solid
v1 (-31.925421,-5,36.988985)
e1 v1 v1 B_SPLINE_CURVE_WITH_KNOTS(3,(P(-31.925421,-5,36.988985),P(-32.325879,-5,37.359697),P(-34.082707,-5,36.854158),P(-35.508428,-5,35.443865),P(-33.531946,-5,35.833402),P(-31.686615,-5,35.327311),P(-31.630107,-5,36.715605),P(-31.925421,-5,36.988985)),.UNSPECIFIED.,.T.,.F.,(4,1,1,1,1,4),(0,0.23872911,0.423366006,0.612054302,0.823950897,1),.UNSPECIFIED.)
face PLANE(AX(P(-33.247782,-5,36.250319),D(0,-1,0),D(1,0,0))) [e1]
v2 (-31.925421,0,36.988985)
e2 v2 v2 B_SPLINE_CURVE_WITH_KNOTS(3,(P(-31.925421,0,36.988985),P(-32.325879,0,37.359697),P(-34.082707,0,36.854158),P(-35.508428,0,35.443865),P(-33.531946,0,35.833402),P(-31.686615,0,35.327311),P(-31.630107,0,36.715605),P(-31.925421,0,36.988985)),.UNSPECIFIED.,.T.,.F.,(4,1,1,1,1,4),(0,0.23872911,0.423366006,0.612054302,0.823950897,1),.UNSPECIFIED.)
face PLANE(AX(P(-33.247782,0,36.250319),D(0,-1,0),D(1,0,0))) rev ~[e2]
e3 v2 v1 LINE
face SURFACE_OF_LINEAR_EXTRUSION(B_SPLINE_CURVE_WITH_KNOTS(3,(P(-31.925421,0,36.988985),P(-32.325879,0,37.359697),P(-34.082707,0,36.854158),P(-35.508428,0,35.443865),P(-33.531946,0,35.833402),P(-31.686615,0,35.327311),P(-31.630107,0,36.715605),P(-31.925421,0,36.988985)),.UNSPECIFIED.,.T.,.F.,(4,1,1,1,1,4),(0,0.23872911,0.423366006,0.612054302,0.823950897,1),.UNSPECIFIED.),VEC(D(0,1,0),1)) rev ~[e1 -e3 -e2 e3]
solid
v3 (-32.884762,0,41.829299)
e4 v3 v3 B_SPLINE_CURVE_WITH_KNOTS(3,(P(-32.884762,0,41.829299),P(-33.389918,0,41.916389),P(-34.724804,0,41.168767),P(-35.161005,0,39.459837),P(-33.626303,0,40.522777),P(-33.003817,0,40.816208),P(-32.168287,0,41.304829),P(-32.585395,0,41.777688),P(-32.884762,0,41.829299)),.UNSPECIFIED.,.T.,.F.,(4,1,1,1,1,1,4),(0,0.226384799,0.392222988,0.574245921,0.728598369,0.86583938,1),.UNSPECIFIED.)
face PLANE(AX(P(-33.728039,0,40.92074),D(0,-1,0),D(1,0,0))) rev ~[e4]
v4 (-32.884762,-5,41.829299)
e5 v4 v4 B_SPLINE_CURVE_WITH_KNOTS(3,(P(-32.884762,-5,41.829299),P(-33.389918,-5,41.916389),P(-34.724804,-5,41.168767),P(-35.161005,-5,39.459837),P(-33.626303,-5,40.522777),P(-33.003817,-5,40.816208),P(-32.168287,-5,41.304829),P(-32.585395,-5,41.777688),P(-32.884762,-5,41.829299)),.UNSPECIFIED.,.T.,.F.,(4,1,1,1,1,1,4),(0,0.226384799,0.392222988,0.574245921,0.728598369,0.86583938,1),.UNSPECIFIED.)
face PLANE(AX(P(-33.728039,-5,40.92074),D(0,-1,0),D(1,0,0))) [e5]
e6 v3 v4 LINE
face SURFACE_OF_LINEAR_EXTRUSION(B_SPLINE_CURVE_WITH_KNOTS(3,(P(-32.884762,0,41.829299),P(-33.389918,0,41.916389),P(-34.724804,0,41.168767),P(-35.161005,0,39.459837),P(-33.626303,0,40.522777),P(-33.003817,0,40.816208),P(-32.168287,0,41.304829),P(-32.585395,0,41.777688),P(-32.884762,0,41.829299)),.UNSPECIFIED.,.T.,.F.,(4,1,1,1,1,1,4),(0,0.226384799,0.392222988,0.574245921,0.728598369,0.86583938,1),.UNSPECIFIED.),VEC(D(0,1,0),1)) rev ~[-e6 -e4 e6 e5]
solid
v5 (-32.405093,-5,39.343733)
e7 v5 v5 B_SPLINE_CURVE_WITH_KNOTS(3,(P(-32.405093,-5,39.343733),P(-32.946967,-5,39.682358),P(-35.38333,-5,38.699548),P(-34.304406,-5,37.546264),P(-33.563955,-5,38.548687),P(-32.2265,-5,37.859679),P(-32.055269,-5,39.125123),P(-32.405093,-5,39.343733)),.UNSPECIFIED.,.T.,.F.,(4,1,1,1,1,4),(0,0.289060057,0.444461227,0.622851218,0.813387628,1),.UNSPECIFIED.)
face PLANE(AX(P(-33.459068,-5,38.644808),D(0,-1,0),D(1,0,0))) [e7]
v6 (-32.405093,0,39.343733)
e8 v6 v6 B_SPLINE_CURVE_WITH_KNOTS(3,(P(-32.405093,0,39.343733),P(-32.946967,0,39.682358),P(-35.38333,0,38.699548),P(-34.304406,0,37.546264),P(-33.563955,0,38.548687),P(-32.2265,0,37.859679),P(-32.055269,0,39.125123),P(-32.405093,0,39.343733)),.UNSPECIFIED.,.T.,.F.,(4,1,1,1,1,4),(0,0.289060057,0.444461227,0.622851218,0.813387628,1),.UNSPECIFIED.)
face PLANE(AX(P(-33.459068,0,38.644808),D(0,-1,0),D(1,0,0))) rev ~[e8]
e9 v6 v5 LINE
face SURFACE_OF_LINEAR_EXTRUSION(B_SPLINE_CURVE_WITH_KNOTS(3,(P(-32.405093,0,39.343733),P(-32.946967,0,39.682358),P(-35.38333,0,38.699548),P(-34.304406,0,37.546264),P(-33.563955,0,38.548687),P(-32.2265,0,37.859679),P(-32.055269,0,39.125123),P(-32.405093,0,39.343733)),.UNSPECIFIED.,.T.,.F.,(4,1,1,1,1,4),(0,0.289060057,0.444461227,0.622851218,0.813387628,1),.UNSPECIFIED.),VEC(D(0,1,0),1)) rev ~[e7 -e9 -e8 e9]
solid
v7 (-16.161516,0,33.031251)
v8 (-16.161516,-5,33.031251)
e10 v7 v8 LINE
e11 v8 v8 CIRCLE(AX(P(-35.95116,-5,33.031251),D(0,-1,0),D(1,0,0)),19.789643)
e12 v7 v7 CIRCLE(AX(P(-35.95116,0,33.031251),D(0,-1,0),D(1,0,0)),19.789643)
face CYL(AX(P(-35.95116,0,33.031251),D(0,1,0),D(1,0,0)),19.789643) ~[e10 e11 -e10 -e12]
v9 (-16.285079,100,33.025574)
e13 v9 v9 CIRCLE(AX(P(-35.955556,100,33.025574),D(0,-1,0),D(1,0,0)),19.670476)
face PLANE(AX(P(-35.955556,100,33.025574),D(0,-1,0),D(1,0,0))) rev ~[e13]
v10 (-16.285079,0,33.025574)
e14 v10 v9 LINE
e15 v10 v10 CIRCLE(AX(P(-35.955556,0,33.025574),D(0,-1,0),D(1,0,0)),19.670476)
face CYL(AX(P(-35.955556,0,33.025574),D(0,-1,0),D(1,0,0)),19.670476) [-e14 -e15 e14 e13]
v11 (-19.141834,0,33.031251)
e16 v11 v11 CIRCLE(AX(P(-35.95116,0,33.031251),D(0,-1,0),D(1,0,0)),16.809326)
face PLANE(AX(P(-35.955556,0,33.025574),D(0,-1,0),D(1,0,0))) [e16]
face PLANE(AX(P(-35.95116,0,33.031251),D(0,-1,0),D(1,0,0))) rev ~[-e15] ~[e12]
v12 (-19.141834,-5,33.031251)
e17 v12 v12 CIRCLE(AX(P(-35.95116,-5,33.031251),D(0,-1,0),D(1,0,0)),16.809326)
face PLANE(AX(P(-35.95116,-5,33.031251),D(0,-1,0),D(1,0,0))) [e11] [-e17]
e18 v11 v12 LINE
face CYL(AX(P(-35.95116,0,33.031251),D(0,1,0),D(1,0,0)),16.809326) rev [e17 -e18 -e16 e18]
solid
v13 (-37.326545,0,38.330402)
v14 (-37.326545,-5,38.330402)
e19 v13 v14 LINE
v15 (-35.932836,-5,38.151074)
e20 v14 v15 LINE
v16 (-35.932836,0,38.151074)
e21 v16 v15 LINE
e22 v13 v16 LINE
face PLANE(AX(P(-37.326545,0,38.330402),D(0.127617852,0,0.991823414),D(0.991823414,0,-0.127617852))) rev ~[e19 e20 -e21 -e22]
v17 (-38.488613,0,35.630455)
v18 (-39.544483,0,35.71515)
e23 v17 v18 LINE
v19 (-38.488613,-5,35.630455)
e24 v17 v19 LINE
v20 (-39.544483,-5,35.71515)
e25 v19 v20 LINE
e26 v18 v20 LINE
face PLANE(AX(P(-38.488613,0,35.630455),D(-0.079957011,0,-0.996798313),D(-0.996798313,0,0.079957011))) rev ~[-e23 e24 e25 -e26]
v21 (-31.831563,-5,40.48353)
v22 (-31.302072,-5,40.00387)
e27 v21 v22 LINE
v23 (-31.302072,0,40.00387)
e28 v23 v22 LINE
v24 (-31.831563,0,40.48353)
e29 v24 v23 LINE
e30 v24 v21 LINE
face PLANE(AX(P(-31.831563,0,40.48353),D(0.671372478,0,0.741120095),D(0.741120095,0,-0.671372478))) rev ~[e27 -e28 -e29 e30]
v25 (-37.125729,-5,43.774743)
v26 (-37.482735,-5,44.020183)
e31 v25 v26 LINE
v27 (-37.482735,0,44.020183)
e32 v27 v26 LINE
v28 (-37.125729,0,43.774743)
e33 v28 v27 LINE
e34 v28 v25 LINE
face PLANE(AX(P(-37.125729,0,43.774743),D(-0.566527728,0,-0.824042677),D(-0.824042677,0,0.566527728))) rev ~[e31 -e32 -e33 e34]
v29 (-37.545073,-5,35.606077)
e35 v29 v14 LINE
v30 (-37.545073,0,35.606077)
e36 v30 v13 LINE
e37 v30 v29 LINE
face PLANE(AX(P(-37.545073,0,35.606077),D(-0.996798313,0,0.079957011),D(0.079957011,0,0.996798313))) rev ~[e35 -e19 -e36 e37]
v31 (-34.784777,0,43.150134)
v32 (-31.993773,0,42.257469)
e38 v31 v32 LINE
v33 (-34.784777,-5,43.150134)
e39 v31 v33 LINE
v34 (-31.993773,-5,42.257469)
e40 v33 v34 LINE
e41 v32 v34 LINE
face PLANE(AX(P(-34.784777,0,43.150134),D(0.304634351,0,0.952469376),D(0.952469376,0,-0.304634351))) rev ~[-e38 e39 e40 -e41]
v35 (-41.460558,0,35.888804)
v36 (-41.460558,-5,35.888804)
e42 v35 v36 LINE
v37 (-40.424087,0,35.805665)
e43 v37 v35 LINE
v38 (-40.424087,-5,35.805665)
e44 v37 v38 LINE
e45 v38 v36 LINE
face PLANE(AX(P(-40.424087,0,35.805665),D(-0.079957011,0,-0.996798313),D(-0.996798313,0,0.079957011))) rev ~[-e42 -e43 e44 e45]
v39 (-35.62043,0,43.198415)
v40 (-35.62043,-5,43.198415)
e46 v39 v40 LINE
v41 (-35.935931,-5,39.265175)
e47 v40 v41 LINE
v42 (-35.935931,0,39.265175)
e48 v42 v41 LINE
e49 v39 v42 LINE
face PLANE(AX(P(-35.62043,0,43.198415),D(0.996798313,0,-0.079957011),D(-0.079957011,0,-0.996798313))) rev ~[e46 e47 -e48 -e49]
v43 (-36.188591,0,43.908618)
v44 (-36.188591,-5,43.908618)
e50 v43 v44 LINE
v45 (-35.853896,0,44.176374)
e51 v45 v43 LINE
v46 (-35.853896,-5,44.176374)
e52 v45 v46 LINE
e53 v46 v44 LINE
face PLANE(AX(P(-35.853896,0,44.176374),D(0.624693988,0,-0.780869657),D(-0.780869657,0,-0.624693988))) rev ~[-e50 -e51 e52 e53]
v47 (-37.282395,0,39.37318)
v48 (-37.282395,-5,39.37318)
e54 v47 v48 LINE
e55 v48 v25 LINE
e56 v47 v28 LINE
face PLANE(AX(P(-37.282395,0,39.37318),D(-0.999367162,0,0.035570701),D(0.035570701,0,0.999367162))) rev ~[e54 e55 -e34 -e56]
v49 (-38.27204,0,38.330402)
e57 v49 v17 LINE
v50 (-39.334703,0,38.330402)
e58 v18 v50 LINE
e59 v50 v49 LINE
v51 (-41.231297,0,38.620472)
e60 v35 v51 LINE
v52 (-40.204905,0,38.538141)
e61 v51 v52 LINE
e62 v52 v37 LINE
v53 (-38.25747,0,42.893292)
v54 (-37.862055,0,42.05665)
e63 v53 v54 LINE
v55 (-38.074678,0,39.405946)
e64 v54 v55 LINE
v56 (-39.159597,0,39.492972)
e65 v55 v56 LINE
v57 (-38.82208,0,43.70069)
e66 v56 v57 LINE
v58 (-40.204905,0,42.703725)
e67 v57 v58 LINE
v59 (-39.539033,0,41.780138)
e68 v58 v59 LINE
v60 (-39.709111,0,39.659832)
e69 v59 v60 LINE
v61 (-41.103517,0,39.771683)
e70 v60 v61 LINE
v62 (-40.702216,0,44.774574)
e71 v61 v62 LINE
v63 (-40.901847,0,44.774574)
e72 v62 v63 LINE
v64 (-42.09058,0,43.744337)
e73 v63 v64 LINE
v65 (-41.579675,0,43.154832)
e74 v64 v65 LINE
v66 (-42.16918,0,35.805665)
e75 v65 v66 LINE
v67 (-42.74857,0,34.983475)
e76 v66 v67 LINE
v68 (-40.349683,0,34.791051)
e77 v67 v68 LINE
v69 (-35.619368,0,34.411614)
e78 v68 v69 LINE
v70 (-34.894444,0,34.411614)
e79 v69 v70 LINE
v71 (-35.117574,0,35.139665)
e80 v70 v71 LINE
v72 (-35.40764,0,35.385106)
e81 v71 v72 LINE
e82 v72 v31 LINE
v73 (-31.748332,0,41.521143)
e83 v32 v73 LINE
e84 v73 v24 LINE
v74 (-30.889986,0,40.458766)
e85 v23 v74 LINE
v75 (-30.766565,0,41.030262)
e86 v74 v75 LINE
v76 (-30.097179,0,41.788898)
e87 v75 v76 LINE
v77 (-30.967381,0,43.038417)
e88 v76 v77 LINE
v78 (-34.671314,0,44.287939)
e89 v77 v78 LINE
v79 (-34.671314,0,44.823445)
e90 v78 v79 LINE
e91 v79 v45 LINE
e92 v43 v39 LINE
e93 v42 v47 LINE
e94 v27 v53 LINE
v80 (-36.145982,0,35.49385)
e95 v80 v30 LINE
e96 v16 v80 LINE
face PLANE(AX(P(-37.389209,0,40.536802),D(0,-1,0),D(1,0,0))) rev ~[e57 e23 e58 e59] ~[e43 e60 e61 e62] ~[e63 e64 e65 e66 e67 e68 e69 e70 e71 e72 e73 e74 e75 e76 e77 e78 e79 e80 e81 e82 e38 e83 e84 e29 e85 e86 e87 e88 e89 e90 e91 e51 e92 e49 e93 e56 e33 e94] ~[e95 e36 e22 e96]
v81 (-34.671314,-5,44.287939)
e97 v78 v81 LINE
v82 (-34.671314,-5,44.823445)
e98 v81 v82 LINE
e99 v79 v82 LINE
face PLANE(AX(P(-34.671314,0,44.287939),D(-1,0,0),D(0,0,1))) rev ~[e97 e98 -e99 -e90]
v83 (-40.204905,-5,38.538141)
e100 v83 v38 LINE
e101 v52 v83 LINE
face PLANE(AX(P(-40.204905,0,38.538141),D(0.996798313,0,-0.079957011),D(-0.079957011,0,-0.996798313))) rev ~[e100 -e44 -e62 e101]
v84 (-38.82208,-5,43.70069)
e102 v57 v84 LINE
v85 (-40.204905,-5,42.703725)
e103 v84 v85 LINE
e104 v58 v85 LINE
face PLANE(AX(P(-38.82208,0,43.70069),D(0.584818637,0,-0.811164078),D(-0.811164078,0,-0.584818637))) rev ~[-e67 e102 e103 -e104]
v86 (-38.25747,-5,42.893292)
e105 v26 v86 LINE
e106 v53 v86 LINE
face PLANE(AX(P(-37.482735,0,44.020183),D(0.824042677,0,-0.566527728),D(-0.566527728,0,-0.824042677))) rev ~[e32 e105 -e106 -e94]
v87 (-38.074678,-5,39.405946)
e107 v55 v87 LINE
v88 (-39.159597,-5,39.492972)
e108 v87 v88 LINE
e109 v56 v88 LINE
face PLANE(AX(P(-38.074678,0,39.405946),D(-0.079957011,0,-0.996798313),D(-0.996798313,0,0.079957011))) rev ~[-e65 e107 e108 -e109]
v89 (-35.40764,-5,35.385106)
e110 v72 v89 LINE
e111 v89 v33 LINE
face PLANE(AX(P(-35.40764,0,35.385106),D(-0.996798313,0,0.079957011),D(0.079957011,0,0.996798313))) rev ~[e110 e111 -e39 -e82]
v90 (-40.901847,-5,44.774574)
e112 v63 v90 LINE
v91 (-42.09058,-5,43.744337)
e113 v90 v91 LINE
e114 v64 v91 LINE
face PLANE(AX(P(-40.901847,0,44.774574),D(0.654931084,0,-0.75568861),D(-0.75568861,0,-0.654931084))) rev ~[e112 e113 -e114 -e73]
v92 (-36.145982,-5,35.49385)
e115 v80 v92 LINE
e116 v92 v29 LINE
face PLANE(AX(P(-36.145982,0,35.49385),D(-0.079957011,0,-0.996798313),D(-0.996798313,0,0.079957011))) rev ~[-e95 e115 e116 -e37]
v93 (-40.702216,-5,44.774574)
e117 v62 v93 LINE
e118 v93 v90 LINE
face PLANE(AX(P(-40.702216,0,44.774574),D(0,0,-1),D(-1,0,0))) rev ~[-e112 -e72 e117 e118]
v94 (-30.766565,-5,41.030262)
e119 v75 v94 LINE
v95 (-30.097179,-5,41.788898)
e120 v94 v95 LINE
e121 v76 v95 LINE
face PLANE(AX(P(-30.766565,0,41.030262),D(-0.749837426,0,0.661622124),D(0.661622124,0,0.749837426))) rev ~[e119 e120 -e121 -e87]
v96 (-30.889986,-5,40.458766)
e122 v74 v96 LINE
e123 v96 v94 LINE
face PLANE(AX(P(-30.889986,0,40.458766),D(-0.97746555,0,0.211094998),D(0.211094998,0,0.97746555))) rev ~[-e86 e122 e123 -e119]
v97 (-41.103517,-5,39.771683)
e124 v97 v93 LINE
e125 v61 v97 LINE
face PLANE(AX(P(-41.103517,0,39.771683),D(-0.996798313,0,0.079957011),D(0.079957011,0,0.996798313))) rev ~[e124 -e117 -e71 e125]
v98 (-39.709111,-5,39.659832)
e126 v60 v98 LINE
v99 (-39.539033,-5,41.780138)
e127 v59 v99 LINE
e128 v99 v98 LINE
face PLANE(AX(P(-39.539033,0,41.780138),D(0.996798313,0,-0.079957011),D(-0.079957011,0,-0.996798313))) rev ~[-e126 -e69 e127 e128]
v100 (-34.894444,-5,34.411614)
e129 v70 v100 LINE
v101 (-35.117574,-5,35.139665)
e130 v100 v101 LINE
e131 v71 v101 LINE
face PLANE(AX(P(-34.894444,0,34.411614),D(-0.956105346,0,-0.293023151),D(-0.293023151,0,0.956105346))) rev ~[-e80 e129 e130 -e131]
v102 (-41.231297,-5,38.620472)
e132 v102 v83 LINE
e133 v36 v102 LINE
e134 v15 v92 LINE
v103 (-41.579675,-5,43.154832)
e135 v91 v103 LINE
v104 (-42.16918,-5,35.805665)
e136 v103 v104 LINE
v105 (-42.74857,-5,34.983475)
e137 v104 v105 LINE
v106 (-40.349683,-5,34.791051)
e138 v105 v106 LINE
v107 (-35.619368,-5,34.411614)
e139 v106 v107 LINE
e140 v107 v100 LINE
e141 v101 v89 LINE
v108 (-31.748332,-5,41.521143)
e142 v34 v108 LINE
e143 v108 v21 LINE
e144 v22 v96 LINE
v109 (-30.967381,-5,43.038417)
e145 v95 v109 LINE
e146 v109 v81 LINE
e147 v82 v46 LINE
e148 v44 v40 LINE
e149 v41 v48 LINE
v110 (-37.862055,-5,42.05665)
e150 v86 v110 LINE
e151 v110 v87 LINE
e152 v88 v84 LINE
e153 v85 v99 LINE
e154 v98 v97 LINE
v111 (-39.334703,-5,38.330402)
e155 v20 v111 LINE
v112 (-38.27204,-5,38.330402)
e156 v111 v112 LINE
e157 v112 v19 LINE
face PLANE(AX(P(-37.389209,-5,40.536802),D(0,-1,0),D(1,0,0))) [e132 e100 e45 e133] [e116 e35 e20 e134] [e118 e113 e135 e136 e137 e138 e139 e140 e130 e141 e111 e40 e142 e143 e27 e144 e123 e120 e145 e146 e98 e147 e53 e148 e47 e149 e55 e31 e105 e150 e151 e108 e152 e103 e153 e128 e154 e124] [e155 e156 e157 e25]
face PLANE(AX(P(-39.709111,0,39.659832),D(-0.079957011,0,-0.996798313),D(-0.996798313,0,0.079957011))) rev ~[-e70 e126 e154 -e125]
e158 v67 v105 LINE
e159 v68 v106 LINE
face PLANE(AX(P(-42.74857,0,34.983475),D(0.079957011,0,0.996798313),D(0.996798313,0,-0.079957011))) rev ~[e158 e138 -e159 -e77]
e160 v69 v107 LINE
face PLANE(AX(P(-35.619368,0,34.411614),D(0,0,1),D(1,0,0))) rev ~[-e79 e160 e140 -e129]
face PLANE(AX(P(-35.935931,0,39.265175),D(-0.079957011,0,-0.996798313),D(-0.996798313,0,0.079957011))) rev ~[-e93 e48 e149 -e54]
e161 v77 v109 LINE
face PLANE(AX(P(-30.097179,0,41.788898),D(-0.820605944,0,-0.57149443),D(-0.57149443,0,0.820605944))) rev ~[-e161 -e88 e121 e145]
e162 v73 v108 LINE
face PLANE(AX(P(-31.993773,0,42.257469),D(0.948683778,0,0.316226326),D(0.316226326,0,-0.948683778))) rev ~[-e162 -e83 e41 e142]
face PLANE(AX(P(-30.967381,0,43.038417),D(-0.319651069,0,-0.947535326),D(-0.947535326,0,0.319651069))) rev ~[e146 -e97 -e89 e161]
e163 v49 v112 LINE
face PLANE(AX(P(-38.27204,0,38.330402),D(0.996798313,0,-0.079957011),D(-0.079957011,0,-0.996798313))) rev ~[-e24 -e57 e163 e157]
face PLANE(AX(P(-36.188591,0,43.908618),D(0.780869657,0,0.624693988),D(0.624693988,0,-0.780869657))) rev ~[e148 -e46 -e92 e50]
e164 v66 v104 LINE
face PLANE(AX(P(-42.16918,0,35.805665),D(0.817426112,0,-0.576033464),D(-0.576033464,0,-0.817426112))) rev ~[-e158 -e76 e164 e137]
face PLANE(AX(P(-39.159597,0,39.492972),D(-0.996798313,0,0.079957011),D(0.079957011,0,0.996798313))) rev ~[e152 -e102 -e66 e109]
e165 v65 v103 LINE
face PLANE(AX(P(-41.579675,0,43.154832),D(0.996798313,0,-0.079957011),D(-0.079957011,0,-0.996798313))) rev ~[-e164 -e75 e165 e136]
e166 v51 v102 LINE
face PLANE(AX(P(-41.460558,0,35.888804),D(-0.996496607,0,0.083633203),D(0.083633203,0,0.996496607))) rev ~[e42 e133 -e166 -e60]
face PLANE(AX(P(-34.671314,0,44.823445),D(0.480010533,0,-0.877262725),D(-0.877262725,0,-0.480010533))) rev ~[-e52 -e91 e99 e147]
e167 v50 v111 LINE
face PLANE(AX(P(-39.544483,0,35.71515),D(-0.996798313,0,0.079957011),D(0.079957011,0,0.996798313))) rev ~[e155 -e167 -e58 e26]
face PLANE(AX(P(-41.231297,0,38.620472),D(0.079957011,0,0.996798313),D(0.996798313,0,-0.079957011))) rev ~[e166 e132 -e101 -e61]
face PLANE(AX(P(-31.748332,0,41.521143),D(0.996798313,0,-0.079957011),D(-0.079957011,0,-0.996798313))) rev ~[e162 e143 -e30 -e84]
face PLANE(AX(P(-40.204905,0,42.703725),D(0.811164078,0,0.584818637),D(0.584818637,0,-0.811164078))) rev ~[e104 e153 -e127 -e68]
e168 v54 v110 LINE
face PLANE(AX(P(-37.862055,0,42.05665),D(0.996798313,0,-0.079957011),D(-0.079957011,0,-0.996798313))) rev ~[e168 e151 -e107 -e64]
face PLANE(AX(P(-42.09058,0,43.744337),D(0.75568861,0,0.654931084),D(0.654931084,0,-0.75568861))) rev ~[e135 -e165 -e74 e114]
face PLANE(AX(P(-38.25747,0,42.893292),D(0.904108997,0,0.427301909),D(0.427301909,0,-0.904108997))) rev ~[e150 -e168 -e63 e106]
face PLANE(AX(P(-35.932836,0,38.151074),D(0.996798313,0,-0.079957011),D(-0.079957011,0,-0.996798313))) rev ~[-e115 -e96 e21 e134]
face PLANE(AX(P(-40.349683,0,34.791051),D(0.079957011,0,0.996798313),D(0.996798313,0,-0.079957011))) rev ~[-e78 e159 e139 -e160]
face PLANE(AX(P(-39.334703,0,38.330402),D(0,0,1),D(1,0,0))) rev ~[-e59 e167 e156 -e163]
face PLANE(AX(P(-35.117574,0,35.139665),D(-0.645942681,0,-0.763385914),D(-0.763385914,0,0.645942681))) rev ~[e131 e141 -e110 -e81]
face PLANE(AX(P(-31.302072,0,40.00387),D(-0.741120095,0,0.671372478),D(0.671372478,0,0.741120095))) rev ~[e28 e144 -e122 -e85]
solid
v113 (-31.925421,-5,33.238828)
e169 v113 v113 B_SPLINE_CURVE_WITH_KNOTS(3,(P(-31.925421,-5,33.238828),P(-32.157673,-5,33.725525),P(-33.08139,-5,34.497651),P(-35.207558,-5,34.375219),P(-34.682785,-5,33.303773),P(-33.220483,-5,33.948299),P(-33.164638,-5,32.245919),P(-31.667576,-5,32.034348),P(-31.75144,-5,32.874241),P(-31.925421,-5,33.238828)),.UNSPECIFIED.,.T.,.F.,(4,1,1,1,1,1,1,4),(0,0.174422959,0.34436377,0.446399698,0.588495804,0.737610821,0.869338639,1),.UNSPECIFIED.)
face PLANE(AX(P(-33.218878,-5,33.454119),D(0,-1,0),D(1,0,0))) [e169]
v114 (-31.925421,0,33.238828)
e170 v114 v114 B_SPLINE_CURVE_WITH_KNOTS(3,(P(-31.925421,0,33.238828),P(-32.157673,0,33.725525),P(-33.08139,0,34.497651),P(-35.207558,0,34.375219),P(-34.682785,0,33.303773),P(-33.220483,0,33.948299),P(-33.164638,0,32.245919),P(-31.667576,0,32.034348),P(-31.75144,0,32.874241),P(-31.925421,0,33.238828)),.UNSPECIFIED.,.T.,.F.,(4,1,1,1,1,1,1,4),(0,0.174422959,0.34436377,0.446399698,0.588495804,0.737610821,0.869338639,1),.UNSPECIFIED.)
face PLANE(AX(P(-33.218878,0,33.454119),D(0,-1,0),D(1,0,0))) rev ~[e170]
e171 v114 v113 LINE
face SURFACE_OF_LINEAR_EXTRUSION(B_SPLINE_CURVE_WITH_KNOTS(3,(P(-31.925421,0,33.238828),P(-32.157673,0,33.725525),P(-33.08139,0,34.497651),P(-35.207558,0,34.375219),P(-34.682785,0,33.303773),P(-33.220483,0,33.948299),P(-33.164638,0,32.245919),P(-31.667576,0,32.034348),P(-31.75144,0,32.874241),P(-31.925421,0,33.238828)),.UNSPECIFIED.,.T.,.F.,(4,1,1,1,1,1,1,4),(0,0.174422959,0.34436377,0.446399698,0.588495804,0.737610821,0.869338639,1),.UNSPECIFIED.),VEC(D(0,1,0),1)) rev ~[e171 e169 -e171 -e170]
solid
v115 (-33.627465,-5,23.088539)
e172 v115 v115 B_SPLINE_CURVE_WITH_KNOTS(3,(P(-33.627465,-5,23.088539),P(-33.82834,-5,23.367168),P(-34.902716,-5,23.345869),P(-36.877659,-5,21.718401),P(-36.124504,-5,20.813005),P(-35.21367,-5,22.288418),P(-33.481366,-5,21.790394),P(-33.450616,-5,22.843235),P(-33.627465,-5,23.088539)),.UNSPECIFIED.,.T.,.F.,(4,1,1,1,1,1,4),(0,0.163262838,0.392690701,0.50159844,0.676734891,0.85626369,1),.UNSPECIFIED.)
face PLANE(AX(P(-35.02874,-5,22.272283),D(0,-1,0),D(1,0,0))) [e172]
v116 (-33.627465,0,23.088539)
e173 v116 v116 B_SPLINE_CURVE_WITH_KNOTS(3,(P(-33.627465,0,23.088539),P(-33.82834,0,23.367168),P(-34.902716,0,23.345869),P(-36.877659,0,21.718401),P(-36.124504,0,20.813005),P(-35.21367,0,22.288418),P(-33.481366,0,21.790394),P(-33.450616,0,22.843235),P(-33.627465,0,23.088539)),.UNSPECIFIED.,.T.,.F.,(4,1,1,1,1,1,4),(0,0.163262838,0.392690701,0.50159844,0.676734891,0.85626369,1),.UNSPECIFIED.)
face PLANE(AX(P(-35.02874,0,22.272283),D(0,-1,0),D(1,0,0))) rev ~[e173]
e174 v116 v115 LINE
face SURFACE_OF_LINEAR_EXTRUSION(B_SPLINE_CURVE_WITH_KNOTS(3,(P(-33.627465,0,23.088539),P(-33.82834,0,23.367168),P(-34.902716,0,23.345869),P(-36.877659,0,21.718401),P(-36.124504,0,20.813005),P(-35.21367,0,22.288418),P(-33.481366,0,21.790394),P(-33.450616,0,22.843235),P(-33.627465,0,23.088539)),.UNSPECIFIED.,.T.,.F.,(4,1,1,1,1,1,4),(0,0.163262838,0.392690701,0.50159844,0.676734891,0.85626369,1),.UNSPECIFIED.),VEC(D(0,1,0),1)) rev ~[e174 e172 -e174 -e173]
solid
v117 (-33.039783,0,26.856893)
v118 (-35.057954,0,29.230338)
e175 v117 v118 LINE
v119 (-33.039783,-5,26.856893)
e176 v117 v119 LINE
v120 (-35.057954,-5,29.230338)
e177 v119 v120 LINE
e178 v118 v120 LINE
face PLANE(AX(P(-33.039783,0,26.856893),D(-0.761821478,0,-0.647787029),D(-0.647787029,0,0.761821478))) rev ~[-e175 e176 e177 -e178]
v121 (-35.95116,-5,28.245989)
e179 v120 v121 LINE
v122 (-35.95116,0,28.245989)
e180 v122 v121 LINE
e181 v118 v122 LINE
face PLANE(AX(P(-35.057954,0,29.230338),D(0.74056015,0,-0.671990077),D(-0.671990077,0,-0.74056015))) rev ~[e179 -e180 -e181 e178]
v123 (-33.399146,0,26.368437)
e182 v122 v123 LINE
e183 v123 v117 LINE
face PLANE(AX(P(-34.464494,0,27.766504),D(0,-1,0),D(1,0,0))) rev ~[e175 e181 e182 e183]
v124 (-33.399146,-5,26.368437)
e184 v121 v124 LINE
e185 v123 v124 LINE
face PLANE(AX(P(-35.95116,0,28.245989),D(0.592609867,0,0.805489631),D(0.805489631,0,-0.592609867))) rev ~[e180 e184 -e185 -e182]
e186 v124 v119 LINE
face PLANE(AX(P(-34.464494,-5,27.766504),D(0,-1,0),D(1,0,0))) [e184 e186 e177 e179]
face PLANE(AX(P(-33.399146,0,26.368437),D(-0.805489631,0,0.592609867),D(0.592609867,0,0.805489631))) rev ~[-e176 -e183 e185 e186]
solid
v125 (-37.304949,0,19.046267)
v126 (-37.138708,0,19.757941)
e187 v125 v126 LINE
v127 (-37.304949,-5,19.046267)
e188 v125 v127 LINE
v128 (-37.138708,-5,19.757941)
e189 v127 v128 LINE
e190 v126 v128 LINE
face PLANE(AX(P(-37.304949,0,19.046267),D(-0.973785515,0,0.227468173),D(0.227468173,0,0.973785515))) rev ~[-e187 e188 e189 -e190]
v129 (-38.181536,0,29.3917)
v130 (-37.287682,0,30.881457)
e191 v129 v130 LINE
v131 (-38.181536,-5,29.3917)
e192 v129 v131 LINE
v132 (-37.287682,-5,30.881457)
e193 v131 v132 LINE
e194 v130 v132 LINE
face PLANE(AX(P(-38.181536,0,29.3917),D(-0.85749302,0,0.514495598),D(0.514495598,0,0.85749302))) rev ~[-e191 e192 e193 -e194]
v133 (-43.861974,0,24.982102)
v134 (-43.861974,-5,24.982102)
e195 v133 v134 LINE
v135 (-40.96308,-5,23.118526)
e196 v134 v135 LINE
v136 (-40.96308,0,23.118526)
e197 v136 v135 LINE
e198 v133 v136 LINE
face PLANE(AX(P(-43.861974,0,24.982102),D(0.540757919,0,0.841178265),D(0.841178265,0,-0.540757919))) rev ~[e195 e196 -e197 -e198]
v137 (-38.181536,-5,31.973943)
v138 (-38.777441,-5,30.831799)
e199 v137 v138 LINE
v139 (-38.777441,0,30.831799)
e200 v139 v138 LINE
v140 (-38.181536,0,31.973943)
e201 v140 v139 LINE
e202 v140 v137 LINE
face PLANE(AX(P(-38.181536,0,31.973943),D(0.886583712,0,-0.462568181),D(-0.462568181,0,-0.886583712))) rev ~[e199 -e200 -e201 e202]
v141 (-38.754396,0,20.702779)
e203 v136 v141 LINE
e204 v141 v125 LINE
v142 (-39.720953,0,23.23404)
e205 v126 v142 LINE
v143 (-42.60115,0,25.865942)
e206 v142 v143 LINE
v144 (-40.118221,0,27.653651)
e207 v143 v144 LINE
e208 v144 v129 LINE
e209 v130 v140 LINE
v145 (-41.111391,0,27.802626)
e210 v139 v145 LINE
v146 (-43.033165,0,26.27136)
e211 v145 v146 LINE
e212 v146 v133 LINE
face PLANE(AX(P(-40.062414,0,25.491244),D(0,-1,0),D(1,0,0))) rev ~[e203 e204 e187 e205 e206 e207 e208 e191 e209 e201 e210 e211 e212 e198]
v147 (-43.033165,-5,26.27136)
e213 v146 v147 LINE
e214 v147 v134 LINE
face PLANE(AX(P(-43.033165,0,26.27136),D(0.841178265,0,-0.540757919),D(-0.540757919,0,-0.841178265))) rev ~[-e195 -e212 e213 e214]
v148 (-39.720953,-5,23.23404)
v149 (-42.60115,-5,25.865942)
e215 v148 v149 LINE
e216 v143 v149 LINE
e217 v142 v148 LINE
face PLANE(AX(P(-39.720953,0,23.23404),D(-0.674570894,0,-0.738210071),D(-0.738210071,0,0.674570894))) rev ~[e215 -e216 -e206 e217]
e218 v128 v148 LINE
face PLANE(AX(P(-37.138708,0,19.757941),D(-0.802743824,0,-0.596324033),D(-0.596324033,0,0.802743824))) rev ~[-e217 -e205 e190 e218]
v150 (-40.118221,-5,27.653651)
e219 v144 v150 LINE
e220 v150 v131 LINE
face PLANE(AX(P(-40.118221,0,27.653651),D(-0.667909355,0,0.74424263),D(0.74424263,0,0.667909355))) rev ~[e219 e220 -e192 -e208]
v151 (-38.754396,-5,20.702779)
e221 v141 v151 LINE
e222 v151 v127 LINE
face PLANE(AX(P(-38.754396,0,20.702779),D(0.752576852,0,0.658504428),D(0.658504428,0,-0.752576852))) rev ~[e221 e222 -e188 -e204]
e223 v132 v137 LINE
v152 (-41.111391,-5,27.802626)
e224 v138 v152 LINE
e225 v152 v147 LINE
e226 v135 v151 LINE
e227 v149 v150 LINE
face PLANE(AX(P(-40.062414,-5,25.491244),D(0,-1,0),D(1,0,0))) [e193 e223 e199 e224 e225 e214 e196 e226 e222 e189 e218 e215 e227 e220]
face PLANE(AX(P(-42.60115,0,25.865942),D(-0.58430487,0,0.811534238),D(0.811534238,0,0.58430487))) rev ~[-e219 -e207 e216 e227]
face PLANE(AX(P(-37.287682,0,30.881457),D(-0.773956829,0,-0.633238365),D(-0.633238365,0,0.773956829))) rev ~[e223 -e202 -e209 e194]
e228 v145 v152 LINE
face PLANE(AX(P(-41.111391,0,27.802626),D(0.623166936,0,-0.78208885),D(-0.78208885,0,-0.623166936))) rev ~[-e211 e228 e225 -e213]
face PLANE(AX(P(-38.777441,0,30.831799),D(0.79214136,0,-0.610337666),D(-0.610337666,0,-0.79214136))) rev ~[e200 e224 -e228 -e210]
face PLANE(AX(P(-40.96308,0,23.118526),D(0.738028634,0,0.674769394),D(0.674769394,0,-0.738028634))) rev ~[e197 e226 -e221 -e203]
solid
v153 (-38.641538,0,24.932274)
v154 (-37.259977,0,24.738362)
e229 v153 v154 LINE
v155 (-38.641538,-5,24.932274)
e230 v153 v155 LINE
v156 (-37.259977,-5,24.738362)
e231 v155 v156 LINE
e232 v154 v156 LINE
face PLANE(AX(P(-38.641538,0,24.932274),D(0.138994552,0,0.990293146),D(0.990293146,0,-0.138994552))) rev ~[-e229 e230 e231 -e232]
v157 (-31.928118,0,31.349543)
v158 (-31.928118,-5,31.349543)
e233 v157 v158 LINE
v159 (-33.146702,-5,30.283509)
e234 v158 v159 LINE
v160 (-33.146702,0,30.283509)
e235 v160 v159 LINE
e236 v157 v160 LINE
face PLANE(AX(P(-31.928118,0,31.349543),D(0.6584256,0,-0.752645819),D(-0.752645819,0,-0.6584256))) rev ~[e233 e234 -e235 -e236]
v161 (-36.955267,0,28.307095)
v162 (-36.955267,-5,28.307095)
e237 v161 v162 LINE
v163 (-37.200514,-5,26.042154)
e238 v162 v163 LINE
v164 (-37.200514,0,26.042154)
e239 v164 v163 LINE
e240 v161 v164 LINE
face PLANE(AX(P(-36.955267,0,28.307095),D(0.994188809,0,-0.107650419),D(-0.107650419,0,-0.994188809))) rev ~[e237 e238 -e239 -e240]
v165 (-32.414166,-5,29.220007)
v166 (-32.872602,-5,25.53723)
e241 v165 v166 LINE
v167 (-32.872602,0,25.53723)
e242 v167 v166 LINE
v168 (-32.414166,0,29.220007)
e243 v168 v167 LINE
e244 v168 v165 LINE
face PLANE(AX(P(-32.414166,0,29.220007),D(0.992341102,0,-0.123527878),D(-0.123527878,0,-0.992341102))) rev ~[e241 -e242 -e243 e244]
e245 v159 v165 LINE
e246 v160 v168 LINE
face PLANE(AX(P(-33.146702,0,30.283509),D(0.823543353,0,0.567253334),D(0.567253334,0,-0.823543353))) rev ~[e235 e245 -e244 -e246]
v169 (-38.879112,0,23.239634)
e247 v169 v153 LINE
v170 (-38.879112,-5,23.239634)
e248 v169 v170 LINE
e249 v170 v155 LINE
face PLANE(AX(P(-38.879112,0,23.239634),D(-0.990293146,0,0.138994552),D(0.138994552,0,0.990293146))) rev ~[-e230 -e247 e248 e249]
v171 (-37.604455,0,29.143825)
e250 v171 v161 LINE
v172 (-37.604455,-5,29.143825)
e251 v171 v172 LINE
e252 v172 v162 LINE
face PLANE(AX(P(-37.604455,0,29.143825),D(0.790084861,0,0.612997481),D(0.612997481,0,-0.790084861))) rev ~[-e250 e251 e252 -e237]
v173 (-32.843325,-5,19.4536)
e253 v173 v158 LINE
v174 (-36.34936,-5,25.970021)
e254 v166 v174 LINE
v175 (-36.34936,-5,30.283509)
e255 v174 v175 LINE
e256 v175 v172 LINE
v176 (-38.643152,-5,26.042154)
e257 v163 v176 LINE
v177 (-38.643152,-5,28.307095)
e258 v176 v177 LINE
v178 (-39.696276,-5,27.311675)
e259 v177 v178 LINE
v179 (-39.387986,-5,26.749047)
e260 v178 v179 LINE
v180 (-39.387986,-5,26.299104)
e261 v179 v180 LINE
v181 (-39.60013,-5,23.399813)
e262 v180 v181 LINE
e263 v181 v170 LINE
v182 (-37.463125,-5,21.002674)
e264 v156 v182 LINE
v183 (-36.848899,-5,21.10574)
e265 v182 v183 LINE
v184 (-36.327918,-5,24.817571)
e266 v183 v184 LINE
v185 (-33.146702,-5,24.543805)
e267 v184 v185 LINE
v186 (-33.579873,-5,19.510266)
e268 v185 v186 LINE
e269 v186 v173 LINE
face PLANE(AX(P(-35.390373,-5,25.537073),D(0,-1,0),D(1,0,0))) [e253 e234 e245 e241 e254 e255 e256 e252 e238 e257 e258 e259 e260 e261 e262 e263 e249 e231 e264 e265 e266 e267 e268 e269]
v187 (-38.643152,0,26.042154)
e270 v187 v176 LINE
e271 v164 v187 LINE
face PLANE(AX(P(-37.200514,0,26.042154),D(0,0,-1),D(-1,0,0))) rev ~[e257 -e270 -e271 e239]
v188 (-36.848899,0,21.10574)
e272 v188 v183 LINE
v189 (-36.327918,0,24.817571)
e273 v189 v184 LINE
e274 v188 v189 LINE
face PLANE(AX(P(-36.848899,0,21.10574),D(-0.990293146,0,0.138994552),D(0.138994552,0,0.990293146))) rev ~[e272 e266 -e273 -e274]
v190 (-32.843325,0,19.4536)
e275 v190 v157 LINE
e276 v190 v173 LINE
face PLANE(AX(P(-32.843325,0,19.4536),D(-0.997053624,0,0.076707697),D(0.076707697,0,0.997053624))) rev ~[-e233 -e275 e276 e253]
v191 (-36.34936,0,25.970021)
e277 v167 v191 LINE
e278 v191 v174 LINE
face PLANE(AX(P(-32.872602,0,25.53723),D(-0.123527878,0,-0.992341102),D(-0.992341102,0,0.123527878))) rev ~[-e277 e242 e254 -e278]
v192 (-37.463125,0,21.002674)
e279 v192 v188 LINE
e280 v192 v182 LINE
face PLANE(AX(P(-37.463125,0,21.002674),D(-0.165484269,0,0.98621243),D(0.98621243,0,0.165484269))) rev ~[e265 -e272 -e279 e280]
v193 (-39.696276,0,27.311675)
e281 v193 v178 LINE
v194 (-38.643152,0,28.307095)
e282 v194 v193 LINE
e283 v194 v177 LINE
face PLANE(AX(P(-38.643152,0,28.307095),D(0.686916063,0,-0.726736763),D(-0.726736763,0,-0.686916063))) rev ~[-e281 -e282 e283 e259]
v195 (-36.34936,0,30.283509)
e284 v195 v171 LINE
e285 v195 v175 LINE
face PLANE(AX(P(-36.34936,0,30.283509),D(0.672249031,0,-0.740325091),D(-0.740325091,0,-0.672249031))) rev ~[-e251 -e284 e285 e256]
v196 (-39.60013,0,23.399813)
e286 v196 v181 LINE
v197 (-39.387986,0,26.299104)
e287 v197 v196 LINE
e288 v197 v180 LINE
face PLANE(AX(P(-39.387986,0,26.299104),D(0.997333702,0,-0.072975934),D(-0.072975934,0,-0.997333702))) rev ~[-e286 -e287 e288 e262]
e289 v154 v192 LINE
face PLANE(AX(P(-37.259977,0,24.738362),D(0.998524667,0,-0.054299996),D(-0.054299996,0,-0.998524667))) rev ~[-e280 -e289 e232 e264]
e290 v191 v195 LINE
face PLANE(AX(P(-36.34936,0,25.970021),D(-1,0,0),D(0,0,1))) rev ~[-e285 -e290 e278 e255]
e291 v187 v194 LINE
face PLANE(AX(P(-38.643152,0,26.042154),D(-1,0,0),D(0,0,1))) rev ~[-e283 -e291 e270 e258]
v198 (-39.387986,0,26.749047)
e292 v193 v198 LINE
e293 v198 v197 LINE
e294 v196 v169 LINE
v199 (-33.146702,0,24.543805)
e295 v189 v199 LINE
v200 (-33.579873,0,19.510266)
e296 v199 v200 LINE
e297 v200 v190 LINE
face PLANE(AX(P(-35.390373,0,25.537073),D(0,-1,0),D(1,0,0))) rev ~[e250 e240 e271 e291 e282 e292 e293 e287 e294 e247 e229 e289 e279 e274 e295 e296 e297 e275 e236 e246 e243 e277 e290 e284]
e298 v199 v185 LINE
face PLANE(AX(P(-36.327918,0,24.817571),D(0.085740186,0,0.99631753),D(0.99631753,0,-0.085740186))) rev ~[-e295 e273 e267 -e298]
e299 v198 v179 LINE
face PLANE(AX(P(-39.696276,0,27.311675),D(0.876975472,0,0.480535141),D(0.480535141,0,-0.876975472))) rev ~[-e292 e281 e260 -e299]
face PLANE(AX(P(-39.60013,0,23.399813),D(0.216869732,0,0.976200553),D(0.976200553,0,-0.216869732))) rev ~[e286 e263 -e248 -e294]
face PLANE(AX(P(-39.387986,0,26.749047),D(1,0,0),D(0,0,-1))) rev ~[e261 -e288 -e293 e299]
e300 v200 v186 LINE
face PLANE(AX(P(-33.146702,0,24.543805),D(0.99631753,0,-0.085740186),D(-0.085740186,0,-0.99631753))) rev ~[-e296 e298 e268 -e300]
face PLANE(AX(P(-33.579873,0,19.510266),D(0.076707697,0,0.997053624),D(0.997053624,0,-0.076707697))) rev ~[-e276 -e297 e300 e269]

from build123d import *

# Parameters (mm, degrees)
F1_DEPTH = 5
F2_R     = 19.6704764398
F3_DEPTH = 100
F0_R     = 19.7896434189
F0_R_2   = 16.8093262281
F4_DEPTH = 5


with BuildPart() as f1:
    # F0 (on Front) → F1 (new body)
    with BuildSketch(Plane.XZ):
        Polygon((-41.5796749294, 43.1548319757), (-42.1691797674, 35.8056649566), (-42.7485704422, 34.9834747612), (-40.3496834117, 34.7910508435), (-35.6193675659, 34.4116140897), (-34.8944440484, 34.4116140897), (-35.1175740361, 35.1396650076), (-35.4076400399, 35.3851057589), (-34.7847773867, 43.1501339202), (-31.9937728345, 42.2574691474), (-31.7483320832, 41.5211431682), (-31.8315630384, 40.4835296467), (-31.3020721078, 40.0038696826), (-30.8899864178, 40.4587661755), (-30.7665653527, 41.0302616656), (-30.0971791148, 41.7888984084), (-30.9673808515, 43.0384166539), (-34.6713140607, 44.2879386246), (-34.6713140607, 44.8234453797), (-35.8538962901, 44.1763736308), (-36.1885912716, 43.9086183906), (-35.6204303075, 43.1984152092), (-35.9359305766, 39.2651749322), (-37.2823948352, 39.3731799881), (-37.1257290244, 43.7747426331), (-37.4827347696, 44.0201833844), (-38.2574704876, 42.8932918603), (-37.8620550036, 42.0566499233), (-38.0746781065, 39.4059461564), (-39.1595974577, 39.4929716934), (-38.822080276, 43.7006897318), (-40.2049049735, 42.7037253976), (-39.5390333262, 41.7801379355), (-39.7091111944, 39.6598319118), (-41.1035171997, 39.7716825588), (-40.702216146, 44.7745735937), (-40.9018468548, 44.7745735937), (-42.0905798674, 43.7443368137), align=None)
        Polygon((-41.4605582675, 35.8888042588), (-41.2312969565, 38.6204719543), (-40.2049049735, 38.5381411217), (-40.4240873536, 35.8056649566), align=None, mode=Mode.SUBTRACT)
        Polygon((-39.5444826137, 35.7151502744), (-39.3347032368, 38.3304022253), (-38.2720401508, 38.3304022253), (-38.4886132641, 35.6304549493), align=None, mode=Mode.SUBTRACT)
        Polygon((-37.5450731077, 35.6060767198), (-37.3265445232, 38.3304022253), (-35.932836109, 38.1510738569), (-36.1459821909, 35.4938502781), align=None, mode=Mode.SUBTRACT)
    extrude(amount=F1_DEPTH)


with BuildPart() as f1b:
    # F0 (on Front) → F1, piece 2 (new body)
    with BuildSketch(Plane.XZ):
        with BuildLine():
            add(Edge.make_bspline(
                [(-32.8847616911, 41.8292991817), (-33.3899181796, 41.9163890558), (-34.724803851, 41.1687672813), (-35.1610051658, 39.4598367454), (-33.6263030828, 40.5227774765), (-33.0038166649, 40.8162083153), (-32.1682868047, 41.3048289751), (-32.5853948261, 41.7776878035), (-32.8847616911, 41.8292991817)],
                knots=[0, 0, 0, 0, 0.2263847988, 0.3922229878, 0.574245921, 0.7285983688, 0.8658393804, 1, 1, 1, 1], degree=3))
        make_face()
    extrude(amount=F1_DEPTH)


with BuildPart() as f1c:
    # F0 (on Front) → F1, piece 3 (new body)
    with BuildSketch(Plane.XZ):
        with BuildLine():
            add(Edge.make_bspline(
                [(-32.4050933123, 39.3437333405), (-32.9469671099, 39.6823583375), (-35.3833302061, 38.6995477605), (-34.3044056061, 37.54626355), (-33.5639546752, 38.5486867669), (-32.2264999458, 37.8596789326), (-32.0552685879, 39.1251226663), (-32.4050933123, 39.3437333405)],
                knots=[0, 0, 0, 0, 0.2890600572, 0.444461227, 0.6228512175, 0.8133876278, 1, 1, 1, 1], degree=3))
        make_face()
    extrude(amount=F1_DEPTH)


with BuildPart() as f1d:
    # F0 (on Front) → F1, piece 4 (new body)
    with BuildSketch(Plane.XZ):
        with BuildLine():
            add(Edge.make_bspline(
                [(-31.9254212081, 36.9889847934), (-32.3258786486, 37.3596972584), (-34.0827070521, 36.8541577833), (-35.5084277609, 35.443865143), (-33.5319460304, 35.8334021386), (-31.686615015, 35.3273107748), (-31.6301066857, 36.7156054939), (-31.9254212081, 36.9889847934)],
                knots=[0, 0, 0, 0, 0.23872911, 0.4233660064, 0.6120543016, 0.8239508972, 1, 1, 1, 1], degree=3))
        make_face()
    extrude(amount=F1_DEPTH)


with BuildPart() as f1e:
    # F0 (on Front) → F1, piece 5 (new body)
    with BuildSketch(Plane.XZ):
        with BuildLine():
            add(Edge.make_bspline(
                [(-31.9254212081, 33.2388281822), (-32.1576729025, 33.7255249101), (-33.0813895627, 34.4976511923), (-35.2075582895, 34.3752193824), (-34.6827847742, 33.3037729464), (-33.2204831342, 33.9482992986), (-33.164638359, 32.245918687), (-31.667575709, 32.0343479274), (-31.7514399686, 32.8742405298), (-31.9254212081, 33.2388281822)],
                knots=[0, 0, 0, 0, 0.1744229587, 0.3443637696, 0.4463996982, 0.588495804, 0.7376108212, 0.8693386387, 1, 1, 1, 1], degree=3))
        make_face()
    extrude(amount=F1_DEPTH)


with BuildPart() as f1f:
    # F0 (on Front) → F1, piece 6 (new body)
    with BuildSketch(Plane.XZ):
        Polygon((-38.7543961406, 20.7027792931), (-37.3049490154, 19.0462674946), (-37.1387079358, 19.7579413652), (-39.7209525108, 23.2340395451), (-42.6011495292, 25.8659422398), (-40.1182211936, 27.653651312), (-38.1815358996, 29.3917004019), (-37.2876822948, 30.8814570308), (-38.1815358996, 31.9739431143), (-38.7774407864, 30.8317989111), (-41.1113910377, 27.802625671), (-43.0331647859, 26.271359936), (-43.8619740307, 24.9821022153), (-40.9630797803, 23.1185257435), align=None)
    extrude(amount=F1_DEPTH)


with BuildPart() as f1g:
    # F0 (on Front) → F1, piece 7 (new body)
    with BuildSketch(Plane.XZ):
        Polygon((-39.387986064, 26.2991040945), (-39.6001301706, 23.3998131007), (-38.8791119831, 23.2396339033), (-38.6415381689, 24.9322737646), (-37.2599773109, 24.738362059), (-37.4631248415, 21.0026744753), (-36.848898977, 21.1057402194), (-36.3279175981, 24.8175712232), (-33.1467017531, 24.5438050479), (-33.5798734779, 19.5102659235), (-32.8433252871, 19.453600049), (-31.9281183183, 31.3495434821), (-33.1467017531, 30.2835088223), (-32.4141656629, 29.2200065182), (-32.8726023436, 25.5372300744), (-36.3493598998, 25.9700212628), (-36.3493598998, 30.2835088223), (-37.6044549048, 29.1438251734), (-36.9552671909, 28.30709517), (-37.2005142272, 26.0421540588), (-38.6431515217, 26.0421540588), (-38.6431515217, 28.30709517), (-39.6962761879, 27.3116752505), (-39.387986064, 26.7490465194), align=None)
    extrude(amount=F1_DEPTH)


with BuildPart() as f1h:
    # F0 (on Front) → F1, piece 8 (new body)
    with BuildSketch(Plane.XZ):
        with BuildLine():
            add(Edge.make_bspline(
                [(-33.6274653673, 23.0885390192), (-33.828339504, 23.3671680659), (-34.9027156497, 23.3458686855), (-36.8776589881, 21.7184014786), (-36.1245036706, 20.8130052766), (-35.2136699856, 22.2884176318), (-33.481365593, 21.7903943146), (-33.4506161377, 22.8432345064), (-33.6274653673, 23.0885390192)],
                knots=[0, 0, 0, 0, 0.1632628382, 0.3926907011, 0.5015984401, 0.6767348911, 0.8562636901, 1, 1, 1, 1], degree=3))
        make_face()
    extrude(amount=F1_DEPTH)


with BuildPart() as f1i:
    # F0 (on Front) → F1, piece 9 (new body)
    with BuildSketch(Plane.XZ):
        Polygon((-33.0397825688, 26.8568928501), (-35.0579544902, 29.23033759), (-35.9511598945, 28.2459892333), (-33.3991460502, 26.3684373349), align=None)
    extrude(amount=F1_DEPTH)


with BuildPart() as f3:
    # F2 (on face) → F3 (new body)
    with BuildSketch(Plane.XZ):
        with Locations((-35.955555737, 33.0255739391)):
            Circle(F2_R)
    extrude(amount=-F3_DEPTH)

    # F0 (on Front) → F4 (join)
    with BuildSketch(Plane.XZ):
        with Locations((-35.9511598945, 33.0312512815)):
            Circle(F0_R)
        with Locations((-35.9511598945, 33.0312512815)):
            Circle(F0_R_2, mode=Mode.SUBTRACT)
    extrude(amount=F4_DEPTH)


solid = Compound([f1.part, f1b.part, f1c.part, f1d.part, f1e.part, f1f.part, f1g.part, f1h.part, f1i.part, f3.part])
